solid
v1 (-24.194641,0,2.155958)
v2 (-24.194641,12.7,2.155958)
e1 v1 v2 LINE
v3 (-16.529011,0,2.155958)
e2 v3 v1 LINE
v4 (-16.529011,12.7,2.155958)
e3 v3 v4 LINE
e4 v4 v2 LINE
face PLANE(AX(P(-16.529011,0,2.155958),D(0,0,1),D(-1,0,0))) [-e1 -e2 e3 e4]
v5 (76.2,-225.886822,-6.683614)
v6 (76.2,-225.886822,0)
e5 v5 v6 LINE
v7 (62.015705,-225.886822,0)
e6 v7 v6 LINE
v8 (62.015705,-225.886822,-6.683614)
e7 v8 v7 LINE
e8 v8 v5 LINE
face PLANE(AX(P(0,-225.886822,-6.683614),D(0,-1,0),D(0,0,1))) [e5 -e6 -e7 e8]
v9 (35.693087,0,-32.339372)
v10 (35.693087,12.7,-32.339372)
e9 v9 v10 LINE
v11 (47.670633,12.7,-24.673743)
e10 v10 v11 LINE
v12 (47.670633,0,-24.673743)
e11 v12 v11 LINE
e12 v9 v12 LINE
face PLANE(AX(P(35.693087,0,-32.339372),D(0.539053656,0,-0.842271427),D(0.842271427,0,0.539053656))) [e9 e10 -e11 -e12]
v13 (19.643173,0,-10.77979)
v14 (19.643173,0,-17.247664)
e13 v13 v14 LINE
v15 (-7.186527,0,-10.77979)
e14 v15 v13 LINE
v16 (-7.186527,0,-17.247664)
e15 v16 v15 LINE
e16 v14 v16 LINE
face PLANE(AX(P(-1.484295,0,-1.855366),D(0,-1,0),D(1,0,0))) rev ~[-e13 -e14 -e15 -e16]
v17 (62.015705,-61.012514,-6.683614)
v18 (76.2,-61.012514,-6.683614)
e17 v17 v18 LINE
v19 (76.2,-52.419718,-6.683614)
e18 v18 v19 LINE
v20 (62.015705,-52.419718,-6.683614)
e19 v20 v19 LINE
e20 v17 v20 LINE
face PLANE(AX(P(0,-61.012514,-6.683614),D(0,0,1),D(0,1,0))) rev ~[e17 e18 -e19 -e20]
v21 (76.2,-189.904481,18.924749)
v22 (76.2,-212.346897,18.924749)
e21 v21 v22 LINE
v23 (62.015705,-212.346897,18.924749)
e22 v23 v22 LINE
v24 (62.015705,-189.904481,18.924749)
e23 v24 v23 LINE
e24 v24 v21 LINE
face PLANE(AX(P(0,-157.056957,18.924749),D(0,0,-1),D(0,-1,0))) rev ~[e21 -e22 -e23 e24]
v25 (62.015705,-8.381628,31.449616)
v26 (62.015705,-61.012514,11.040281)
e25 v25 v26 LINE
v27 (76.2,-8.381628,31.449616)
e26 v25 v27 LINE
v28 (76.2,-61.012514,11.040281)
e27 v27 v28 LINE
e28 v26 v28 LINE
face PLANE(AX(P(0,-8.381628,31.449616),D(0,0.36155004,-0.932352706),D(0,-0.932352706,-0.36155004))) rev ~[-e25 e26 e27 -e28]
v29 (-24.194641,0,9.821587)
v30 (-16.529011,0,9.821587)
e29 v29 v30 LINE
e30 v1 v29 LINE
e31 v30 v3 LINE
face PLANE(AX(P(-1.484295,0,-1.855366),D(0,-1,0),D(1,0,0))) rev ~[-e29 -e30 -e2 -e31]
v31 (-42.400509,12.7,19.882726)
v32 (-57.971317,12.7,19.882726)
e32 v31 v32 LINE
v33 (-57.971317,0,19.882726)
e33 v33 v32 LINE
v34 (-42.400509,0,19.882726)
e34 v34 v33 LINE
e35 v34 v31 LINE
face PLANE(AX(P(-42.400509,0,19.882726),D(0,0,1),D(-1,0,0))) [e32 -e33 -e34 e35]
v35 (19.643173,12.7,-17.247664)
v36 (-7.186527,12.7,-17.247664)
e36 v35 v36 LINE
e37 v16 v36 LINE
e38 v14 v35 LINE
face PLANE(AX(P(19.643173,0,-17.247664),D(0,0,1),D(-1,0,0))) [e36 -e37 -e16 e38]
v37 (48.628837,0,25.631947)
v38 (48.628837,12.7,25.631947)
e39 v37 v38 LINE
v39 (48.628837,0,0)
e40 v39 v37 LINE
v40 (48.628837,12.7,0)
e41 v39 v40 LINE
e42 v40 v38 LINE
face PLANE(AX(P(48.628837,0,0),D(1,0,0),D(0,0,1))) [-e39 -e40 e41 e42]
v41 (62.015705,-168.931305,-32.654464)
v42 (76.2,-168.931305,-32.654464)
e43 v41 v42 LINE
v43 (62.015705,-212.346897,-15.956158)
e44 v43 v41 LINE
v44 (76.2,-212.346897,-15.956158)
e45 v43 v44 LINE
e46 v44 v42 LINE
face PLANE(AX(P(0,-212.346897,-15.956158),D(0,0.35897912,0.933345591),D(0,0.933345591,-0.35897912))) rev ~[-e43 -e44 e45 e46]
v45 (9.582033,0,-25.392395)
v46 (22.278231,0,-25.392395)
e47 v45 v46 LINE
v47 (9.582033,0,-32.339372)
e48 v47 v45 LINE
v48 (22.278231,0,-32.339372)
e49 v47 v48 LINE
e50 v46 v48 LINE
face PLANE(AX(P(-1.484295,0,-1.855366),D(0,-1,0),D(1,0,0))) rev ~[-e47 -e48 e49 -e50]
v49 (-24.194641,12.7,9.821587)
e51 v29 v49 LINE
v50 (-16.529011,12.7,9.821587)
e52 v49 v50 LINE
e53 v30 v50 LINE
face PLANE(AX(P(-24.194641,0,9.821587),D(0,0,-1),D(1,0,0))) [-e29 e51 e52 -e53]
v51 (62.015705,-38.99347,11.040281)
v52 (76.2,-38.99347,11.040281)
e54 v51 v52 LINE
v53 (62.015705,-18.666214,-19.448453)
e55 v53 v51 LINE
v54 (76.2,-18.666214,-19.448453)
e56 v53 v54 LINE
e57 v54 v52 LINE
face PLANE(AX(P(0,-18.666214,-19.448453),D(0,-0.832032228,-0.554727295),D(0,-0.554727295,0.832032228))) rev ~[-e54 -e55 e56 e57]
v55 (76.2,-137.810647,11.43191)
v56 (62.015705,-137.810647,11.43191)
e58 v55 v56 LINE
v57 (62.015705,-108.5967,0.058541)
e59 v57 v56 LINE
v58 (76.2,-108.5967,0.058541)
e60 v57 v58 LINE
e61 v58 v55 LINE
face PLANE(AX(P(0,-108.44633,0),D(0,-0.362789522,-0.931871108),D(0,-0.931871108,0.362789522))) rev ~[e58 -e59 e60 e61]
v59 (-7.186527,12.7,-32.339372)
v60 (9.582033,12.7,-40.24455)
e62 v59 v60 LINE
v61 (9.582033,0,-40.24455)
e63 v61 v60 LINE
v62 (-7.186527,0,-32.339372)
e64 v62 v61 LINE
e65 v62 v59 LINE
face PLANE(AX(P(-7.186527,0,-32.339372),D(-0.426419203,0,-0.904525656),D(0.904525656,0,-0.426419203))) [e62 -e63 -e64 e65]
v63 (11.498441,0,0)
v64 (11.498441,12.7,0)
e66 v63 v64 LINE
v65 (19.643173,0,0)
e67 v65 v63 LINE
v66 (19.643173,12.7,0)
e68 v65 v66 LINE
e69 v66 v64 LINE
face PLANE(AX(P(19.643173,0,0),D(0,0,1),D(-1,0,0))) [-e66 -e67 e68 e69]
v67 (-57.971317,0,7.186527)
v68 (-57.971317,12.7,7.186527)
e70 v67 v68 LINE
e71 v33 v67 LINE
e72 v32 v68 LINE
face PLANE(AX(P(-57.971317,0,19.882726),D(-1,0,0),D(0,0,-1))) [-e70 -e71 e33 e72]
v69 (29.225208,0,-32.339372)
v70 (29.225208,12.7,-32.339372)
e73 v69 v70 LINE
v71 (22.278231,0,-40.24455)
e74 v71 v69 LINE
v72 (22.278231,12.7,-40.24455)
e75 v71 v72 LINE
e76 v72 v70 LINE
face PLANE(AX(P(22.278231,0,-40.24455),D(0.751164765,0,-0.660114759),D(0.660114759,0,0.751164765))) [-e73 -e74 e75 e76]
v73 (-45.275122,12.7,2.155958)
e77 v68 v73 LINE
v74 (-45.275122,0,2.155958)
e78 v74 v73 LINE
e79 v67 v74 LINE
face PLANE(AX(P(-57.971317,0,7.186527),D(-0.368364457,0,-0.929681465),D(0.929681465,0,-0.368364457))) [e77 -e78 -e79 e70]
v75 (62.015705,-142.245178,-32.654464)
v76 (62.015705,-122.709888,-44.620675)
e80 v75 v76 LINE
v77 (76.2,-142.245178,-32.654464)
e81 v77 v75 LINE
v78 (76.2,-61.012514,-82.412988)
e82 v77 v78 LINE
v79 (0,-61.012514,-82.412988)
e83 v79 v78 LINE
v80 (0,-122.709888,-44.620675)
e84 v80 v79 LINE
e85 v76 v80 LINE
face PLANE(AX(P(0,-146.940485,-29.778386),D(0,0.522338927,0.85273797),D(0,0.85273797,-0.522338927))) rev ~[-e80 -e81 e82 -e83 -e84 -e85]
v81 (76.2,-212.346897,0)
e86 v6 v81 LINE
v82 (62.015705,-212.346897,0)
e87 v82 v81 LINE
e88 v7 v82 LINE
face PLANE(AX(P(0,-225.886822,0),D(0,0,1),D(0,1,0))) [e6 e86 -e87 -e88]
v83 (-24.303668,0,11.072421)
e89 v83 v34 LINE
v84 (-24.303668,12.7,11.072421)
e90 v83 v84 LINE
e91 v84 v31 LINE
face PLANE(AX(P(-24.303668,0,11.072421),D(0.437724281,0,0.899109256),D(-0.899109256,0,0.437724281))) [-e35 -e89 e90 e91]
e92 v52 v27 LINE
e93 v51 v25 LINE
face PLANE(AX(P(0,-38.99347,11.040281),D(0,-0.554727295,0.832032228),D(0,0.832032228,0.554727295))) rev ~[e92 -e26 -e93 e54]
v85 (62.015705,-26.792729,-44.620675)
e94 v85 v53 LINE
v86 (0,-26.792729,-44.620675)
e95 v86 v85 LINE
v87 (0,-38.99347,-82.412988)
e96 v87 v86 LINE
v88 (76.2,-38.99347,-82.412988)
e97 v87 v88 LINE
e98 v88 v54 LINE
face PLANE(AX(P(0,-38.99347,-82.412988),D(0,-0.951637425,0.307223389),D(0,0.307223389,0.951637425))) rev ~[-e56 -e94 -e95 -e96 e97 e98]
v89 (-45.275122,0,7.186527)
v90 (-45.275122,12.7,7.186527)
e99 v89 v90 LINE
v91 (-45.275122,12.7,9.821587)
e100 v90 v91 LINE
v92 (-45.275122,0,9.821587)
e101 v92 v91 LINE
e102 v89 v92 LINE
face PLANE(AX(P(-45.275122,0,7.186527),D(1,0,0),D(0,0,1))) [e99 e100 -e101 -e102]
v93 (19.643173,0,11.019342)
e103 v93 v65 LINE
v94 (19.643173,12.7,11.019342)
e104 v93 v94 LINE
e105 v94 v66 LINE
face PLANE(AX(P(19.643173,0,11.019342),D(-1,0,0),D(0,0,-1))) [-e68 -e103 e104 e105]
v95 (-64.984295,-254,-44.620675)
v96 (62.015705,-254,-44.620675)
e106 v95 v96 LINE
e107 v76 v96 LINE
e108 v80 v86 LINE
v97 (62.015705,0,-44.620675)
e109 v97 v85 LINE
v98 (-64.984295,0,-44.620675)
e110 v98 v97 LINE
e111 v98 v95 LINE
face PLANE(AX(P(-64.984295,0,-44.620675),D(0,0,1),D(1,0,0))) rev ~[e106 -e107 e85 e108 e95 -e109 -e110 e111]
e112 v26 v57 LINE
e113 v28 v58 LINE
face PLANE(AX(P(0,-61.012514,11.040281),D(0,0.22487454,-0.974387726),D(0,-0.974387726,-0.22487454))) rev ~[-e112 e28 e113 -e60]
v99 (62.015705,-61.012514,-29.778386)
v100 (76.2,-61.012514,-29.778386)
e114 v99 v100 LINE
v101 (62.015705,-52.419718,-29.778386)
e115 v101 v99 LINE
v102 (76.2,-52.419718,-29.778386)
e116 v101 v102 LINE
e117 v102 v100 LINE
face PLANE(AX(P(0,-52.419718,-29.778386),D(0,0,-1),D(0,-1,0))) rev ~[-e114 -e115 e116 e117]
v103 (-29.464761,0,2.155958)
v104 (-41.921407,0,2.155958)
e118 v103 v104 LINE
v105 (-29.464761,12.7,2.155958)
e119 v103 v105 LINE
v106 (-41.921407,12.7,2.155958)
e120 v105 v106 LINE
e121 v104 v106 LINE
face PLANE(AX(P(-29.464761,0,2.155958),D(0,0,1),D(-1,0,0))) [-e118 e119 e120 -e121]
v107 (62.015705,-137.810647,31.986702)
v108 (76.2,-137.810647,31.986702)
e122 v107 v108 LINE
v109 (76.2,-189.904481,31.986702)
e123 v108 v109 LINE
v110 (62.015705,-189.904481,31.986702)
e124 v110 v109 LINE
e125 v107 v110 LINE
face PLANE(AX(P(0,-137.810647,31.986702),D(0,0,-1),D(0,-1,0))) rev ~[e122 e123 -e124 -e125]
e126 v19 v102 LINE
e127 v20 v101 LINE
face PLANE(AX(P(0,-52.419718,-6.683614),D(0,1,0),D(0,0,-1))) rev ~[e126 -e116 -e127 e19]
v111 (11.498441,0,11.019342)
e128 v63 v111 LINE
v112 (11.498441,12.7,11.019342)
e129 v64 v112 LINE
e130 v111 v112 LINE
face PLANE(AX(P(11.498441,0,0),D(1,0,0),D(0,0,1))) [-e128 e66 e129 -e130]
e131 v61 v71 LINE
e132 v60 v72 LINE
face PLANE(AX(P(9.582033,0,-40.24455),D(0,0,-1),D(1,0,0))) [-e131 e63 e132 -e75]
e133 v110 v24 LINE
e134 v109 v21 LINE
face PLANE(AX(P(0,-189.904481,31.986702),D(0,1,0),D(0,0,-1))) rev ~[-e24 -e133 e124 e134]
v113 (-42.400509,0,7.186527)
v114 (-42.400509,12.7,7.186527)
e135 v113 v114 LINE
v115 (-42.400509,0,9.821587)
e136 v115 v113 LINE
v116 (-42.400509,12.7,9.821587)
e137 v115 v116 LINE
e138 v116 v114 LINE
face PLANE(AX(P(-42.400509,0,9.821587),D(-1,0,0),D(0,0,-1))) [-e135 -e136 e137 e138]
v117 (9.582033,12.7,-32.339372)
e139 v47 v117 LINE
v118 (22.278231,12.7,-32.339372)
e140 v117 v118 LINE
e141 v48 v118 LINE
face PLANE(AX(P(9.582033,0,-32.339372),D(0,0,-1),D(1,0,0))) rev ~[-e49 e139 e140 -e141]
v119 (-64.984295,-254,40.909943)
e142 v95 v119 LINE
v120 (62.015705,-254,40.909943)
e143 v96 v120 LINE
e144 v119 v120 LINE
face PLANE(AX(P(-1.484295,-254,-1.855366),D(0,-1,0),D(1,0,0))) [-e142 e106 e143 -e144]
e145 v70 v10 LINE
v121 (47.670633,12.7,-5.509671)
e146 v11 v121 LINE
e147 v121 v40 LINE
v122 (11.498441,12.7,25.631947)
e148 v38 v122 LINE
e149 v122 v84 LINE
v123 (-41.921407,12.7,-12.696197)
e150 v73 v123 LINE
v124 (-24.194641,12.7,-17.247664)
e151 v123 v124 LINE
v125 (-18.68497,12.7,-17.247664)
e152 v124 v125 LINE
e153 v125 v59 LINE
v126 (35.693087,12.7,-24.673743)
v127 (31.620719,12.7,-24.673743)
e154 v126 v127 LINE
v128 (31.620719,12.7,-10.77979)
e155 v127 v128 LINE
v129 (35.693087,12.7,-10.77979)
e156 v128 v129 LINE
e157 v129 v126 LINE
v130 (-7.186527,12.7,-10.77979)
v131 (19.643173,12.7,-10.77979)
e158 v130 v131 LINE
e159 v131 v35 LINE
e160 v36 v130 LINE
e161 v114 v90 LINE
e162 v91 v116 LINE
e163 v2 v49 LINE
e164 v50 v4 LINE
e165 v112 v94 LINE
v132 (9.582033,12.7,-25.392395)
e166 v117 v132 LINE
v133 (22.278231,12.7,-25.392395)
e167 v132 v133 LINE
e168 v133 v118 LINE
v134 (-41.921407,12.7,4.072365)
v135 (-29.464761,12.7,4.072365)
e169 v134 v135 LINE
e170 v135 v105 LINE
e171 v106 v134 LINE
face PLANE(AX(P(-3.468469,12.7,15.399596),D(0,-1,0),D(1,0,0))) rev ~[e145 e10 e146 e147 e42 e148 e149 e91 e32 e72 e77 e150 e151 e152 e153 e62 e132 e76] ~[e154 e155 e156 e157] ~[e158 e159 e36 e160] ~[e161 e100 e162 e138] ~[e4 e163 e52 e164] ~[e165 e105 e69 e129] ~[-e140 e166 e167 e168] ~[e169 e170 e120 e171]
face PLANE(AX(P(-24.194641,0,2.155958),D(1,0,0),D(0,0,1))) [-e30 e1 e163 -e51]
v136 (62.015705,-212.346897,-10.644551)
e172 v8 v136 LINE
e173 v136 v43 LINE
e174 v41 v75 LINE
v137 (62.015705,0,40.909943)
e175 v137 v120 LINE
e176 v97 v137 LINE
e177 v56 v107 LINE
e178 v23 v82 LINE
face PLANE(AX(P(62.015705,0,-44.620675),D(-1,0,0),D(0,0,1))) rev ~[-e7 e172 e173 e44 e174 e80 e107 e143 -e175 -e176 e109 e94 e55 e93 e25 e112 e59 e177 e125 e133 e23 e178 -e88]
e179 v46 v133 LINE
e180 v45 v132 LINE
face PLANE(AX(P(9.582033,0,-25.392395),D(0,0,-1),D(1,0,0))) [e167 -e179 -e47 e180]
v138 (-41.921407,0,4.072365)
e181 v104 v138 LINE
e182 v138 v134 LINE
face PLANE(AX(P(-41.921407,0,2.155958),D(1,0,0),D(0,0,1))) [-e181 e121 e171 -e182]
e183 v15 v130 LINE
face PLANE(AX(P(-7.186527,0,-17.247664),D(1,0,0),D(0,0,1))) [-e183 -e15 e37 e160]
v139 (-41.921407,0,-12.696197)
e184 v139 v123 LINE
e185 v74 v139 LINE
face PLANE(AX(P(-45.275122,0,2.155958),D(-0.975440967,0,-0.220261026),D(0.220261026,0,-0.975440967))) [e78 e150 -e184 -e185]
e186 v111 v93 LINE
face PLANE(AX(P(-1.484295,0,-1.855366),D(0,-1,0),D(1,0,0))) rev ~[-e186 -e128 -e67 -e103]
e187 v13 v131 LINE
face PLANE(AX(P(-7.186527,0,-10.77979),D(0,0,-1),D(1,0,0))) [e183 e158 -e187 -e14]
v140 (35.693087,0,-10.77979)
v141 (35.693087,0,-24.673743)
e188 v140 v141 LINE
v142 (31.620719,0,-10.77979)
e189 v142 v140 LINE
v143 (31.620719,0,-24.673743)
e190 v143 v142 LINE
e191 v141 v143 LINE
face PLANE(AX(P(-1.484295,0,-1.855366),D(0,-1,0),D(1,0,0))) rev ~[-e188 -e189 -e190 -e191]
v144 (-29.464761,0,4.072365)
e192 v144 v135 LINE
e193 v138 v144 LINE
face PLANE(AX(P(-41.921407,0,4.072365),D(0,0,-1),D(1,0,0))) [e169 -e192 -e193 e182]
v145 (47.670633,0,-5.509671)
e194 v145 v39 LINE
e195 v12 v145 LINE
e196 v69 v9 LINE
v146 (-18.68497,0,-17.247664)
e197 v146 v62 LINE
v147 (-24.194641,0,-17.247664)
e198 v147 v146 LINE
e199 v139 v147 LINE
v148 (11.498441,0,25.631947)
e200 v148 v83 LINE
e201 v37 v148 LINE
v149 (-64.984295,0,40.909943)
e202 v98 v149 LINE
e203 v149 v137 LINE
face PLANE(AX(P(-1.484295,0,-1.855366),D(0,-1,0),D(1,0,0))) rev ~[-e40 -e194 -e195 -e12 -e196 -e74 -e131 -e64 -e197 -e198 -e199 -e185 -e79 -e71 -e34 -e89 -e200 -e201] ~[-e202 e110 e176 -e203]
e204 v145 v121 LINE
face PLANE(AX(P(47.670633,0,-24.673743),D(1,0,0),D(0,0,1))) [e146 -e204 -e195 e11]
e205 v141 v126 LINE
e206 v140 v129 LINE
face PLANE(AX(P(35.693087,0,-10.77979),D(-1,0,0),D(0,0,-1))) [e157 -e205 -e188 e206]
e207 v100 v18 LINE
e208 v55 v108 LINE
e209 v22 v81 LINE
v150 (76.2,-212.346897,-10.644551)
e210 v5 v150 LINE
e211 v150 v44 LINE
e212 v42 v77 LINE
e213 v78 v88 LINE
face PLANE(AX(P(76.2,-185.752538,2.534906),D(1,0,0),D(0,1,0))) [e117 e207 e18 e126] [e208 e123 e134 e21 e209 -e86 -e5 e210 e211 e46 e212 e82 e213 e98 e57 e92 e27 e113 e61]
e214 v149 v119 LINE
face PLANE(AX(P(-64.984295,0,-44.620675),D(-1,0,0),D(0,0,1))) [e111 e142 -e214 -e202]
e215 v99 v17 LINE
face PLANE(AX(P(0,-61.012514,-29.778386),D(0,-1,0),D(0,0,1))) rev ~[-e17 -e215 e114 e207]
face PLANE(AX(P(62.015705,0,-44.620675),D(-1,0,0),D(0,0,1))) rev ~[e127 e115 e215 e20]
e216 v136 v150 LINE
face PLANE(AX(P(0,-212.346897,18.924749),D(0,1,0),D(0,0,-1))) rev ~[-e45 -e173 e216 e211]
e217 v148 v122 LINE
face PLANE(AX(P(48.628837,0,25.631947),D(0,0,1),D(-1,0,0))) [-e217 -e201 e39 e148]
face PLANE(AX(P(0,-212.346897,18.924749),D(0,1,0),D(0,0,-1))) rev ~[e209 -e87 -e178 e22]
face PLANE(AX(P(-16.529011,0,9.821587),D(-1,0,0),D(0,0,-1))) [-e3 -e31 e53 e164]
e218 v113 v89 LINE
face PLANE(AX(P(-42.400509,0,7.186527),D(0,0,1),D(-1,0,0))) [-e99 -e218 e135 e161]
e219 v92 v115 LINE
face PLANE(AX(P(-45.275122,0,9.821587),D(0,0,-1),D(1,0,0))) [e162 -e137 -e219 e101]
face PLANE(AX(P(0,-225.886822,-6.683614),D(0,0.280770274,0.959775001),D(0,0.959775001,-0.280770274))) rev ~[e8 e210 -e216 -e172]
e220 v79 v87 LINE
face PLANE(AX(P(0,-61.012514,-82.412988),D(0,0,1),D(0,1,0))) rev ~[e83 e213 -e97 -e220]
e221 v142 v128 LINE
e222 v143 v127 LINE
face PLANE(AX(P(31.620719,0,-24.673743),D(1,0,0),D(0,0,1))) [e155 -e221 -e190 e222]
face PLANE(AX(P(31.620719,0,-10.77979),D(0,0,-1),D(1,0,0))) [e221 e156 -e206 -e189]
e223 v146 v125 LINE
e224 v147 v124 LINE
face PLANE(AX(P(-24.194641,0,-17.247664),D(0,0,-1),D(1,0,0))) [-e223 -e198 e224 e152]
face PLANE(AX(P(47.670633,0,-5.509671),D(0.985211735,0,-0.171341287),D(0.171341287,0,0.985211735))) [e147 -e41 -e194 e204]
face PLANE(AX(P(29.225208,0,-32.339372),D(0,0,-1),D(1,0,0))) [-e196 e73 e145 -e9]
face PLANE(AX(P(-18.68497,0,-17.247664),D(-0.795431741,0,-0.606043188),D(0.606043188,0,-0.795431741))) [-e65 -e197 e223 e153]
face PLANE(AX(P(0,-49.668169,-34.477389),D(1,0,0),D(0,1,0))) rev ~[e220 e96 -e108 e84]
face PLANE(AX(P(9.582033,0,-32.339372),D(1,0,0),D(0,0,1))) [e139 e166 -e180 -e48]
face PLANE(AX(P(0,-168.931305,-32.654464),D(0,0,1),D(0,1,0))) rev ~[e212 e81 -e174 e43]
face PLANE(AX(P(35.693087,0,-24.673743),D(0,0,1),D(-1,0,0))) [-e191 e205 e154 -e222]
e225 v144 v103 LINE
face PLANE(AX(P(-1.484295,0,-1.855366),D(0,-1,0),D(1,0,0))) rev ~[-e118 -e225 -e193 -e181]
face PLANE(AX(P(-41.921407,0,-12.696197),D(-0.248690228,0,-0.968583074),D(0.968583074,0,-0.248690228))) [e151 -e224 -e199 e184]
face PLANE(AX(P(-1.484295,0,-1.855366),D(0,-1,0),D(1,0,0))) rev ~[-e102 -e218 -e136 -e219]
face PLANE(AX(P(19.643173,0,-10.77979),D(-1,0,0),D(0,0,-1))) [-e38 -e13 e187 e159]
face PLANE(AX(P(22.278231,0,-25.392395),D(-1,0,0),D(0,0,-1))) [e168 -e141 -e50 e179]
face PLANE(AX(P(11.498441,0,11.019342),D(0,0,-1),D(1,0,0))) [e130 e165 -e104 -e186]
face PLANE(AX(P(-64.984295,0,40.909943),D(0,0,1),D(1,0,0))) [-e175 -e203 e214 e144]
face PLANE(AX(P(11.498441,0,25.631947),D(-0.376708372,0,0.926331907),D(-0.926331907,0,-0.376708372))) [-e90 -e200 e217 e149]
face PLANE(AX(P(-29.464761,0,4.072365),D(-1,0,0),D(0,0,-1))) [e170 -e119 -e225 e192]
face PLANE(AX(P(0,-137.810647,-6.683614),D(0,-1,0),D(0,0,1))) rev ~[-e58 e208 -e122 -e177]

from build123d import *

# Parameters (mm, degrees)
F0_W     = 127
F0_H     = 85.5306185286
F1_DEPTH = 254
F2_W     = 44.157743454
F2_H     = 12.9875717685
F3_DEPTH = 76.2
F4_W     = 12.6961972564
F4_H     = 7.905177772
F5_DEPTH = 12.7
F6_W     = 9.1298371553
F6_H     = 11.8159283884
F6_W_2   = 8.5927993059
F6_H_2   = 6.6836136393
F6_W_3   = 35.9823405743
F7_DEPTH = 76.2


with BuildPart() as f1:
    # F0 (on Front) → F1 (new body)
    with BuildSketch(Plane.XZ):
        with Locations((-1.4842953533, -1.855365932)):
            Rectangle(F0_W, F0_H)
    extrude(amount=F1_DEPTH)

    # F2 (on Right) → F3 (join)
    with BuildSketch(Plane.YZ):
        Polygon((-157.0569574833, 18.924748525), (-212.3468965292, 18.924748525), (-212.3468965292, -15.9561578184), (-168.9313054085, -15.9561578184), (-168.9313054085, 0), (-157.0569574833, 0), align=None)
        Polygon((-108.4463298321, 0), (-157.0569574833, 18.924748525), (-157.0569574833, 0), align=None)
        Polygon((-168.9313054085, -15.9561578184), (-212.3468965292, -15.9561578184), (-168.9313054085, -32.6544642448), align=None)
        Polygon((-108.4463298321, 0), (-157.0569574833, 0), (-157.0569574833, -15.9561578184), (-168.9313054085, -15.9561578184), (-168.9313054085, -32.6544642448), (-108.4463298321, -32.6544642448), (-108.4463298321, -21.8933336437), (-116.9810146093, -21.8933336437), (-116.9810146093, -8.9057618752), (-108.4463298321, -8.9057618752), align=None)
        Polygon((-64.2885863781, -8.9057618752), (-108.4463298321, 0), (-108.4463298321, -8.9057618752), align=None)
        with Locations((-86.3674581051, -15.3995477594)):
            Rectangle(F2_W, F2_H)
        Polygon((-108.4463298321, -21.8933336437), (-108.4463298321, -32.6544642448), (-64.2885863781, -21.8933336437), align=None)
    extrude(amount=F3_DEPTH)

    # F4 (on Front) → F5 (join)
    with BuildSketch(Plane.XZ):
        Polygon((-24.3036681507, 11.0724206409), (-24.1946410388, 11.0193416476), (11.4984409884, 11.0193416476), (11.4984409884, 25.6319474429), align=None)
        Polygon((11.4984409884, 11.0193416476), (-24.1946410388, 11.0193416476), (-24.1946410388, 9.8215872422), (-16.5290106088, 9.8215872422), (-16.5290106088, 2.1559579764), (-24.1946410388, 2.1559579764), (-24.1946410388, -17.2476638108), (-18.684970215, -17.2476638108), (-7.1865268983, -17.2476638108), (-7.1865268983, -10.779789649), (19.6431726217, -10.779789649), (19.6431726217, 0), (11.4984409884, 0), align=None)
        Polygon((-24.1946410388, 9.8215872422), (-24.1946410388, 11.0193416476), (-24.3036681507, 11.0724206409), (-42.400509119, 19.8827255517), (-42.400509119, 9.8215872422), align=None)
        Polygon((11.4984409884, 25.6319474429), (11.4984409884, 11.0193416476), (19.6431726217, 11.0193416476), (19.6431726217, 0), (48.6288368702, 0), (48.6288368702, 25.6319474429), align=None)
        Polygon((-24.1946410388, 2.1559579764), (-24.1946410388, 9.8215872422), (-42.400509119, 9.8215872422), (-42.400509119, 7.186527364), (-45.2751219273, 7.186527364), (-45.2751219273, 2.1559579764), (-41.9214069843, 2.1559579764), (-41.9214069843, 4.072365351), (-29.4647607952, 4.072365351), (-29.4647607952, 2.1559579764), align=None)
        Polygon((-24.1946410388, -17.2476638108), (-24.1946410388, 2.1559579764), (-29.4647607952, 2.1559579764), (-29.4647607952, -4.3119159527), align=None)
        Polygon((-45.2751219273, 9.8215872422), (-42.400509119, 9.8215872422), (-42.400509119, 19.8827255517), (-57.9713173211, 19.8827255517), (-57.9713173211, 7.186527364), (-45.2751219273, 7.186527364), align=None)
        Polygon((48.6288368702, 0), (19.6431726217, 0), (19.6431726217, -10.779789649), (31.6207185388, -10.779789649), (31.6207185388, -5.5096708238), (47.6706326008, -5.5096708238), align=None)
        Polygon((-41.9214069843, -12.6961972564), (-24.1946410388, -17.2476638108), (-29.4647607952, -4.3119159527), (-29.4647607952, -12.6961972564), align=None)
        Polygon((-29.4647607952, -4.3119159527), (-29.4647607952, 2.1559579764), (-41.9214069843, 2.1559579764), (-41.9214069843, -12.6961972564), (-29.4647607952, -12.6961972564), align=None)
        Polygon((31.6207185388, -10.779789649), (19.6431726217, -10.779789649), (19.6431726217, -17.2476638108), (-7.1865268983, -17.2476638108), (-7.1865268983, -32.3393717408), (9.5820333809, -32.3393717408), (9.5820333809, -25.3923945129), (22.2782306373, -25.3923945129), (22.2782306373, -32.3393717408), (29.2252078652, -32.3393717408), (35.6930866838, -32.3393717408), (35.6930866838, -24.6737431735), (31.6207185388, -24.6737431735), align=None)
        Polygon((-7.1865268983, -17.2476638108), (-18.684970215, -17.2476638108), (-7.1865268983, -32.3393717408), align=None)
        Polygon((-45.2751219273, 2.1559579764), (-41.9214069843, -12.6961972564), (-41.9214069843, 2.1559579764), align=None)
        Polygon((-45.2751219273, 2.1559579764), (-45.2751219273, 7.186527364), (-57.9713173211, 7.186527364), align=None)
        Polygon((31.6207185388, -5.5096708238), (31.6207185388, -10.779789649), (35.6930866838, -10.779789649), (35.6930866838, -24.6737431735), (47.6706326008, -24.6737431735), (47.6706326008, -5.5096708238), align=None)
        Polygon((9.5820333809, -32.3393717408), (-7.1865268983, -32.3393717408), (9.5820333809, -40.2445495129), align=None)
        Polygon((35.6930866838, -32.3393717408), (47.6706326008, -24.6737431735), (35.6930866838, -24.6737431735), align=None)
        with Locations((15.9301320091, -36.2919606268)):
            Rectangle(F4_W, F4_H)
        Polygon((29.2252078652, -32.3393717408), (22.2782306373, -32.3393717408), (22.2782306373, -40.2445495129), align=None)
    extrude(amount=-F5_DEPTH)

    # F6 (on Right) → F7 (join)
    with BuildSketch(Plane.YZ):
        Polygon((-38.9934703708, -82.4129879475), (-38.9934703708, 11.0402805731), (-61.0125139356, 11.0402805731), (-61.0125139356, -6.6836136393), (-52.4197183549, -6.6836136393), (-52.4197183549, -29.7783855349), (-61.0125139356, -29.7783855349), (-61.0125139356, -82.4129879475), align=None)
        Polygon((-18.666213934, -19.4484525669), (-38.9934703708, 11.0402805731), (-38.9934703708, -82.4129879475), align=None)
        Polygon((-61.0125139356, 11.0402805731), (-38.9934703708, 11.0402805731), (-8.3816275001, 31.4496159554), align=None)
        Polygon((-61.0125139356, -6.6836136393), (-61.0125139356, 11.0402805731), (-137.8106474876, -6.6836136393), align=None)
        Polygon((-61.0125139356, -29.7783855349), (-61.0125139356, -6.6836136393), (-137.8106474876, -6.6836136393), (-137.8106474876, -18.4995420277), (-146.940484643, -18.4995420277), (-146.940484643, -29.7783855349), align=None)
        with Locations((-142.3755660653, -12.5915778335)):
            Rectangle(F6_W, F6_H)
        Polygon((-146.940484643, -6.6836136393), (-137.8106474876, -6.6836136393), (-137.8106474876, 31.9867022336), (-189.9044811726, 31.9867022336), (-189.9044811726, 0), (-181.3116818666, 0), (-181.3116818666, -6.6836136393), (-189.9044811726, -6.6836136393), (-189.9044811726, -17.2098011525), (-185.4956773803, -18.4995420277), (-146.940484643, -18.4995420277), align=None)
        Polygon((-146.940484643, -29.7783855349), (-61.0125139356, -82.4129879475), (-61.0125139356, -29.7783855349), align=None)
        Polygon((-185.4956773803, -18.4995420277), (-146.940484643, -29.7783855349), (-146.940484643, -18.4995420277), align=None)
        Polygon((-189.9044811726, -18.4995420277), (-185.4956773803, -18.4995420277), (-189.9044811726, -17.2098011525), align=None)
        with Locations((-185.6080815196, -3.3418068197)):
            Rectangle(F6_W_2, F6_H_2)
        with Locations((-207.8956514597, -3.3418068197)):
            Rectangle(F6_W_3, F6_H_2)
        Polygon((-225.8868217468, -6.6836136393), (-189.9044811726, -17.2098011525), (-189.9044811726, -6.6836136393), align=None)
    extrude(amount=F7_DEPTH)


solid = f1.part
